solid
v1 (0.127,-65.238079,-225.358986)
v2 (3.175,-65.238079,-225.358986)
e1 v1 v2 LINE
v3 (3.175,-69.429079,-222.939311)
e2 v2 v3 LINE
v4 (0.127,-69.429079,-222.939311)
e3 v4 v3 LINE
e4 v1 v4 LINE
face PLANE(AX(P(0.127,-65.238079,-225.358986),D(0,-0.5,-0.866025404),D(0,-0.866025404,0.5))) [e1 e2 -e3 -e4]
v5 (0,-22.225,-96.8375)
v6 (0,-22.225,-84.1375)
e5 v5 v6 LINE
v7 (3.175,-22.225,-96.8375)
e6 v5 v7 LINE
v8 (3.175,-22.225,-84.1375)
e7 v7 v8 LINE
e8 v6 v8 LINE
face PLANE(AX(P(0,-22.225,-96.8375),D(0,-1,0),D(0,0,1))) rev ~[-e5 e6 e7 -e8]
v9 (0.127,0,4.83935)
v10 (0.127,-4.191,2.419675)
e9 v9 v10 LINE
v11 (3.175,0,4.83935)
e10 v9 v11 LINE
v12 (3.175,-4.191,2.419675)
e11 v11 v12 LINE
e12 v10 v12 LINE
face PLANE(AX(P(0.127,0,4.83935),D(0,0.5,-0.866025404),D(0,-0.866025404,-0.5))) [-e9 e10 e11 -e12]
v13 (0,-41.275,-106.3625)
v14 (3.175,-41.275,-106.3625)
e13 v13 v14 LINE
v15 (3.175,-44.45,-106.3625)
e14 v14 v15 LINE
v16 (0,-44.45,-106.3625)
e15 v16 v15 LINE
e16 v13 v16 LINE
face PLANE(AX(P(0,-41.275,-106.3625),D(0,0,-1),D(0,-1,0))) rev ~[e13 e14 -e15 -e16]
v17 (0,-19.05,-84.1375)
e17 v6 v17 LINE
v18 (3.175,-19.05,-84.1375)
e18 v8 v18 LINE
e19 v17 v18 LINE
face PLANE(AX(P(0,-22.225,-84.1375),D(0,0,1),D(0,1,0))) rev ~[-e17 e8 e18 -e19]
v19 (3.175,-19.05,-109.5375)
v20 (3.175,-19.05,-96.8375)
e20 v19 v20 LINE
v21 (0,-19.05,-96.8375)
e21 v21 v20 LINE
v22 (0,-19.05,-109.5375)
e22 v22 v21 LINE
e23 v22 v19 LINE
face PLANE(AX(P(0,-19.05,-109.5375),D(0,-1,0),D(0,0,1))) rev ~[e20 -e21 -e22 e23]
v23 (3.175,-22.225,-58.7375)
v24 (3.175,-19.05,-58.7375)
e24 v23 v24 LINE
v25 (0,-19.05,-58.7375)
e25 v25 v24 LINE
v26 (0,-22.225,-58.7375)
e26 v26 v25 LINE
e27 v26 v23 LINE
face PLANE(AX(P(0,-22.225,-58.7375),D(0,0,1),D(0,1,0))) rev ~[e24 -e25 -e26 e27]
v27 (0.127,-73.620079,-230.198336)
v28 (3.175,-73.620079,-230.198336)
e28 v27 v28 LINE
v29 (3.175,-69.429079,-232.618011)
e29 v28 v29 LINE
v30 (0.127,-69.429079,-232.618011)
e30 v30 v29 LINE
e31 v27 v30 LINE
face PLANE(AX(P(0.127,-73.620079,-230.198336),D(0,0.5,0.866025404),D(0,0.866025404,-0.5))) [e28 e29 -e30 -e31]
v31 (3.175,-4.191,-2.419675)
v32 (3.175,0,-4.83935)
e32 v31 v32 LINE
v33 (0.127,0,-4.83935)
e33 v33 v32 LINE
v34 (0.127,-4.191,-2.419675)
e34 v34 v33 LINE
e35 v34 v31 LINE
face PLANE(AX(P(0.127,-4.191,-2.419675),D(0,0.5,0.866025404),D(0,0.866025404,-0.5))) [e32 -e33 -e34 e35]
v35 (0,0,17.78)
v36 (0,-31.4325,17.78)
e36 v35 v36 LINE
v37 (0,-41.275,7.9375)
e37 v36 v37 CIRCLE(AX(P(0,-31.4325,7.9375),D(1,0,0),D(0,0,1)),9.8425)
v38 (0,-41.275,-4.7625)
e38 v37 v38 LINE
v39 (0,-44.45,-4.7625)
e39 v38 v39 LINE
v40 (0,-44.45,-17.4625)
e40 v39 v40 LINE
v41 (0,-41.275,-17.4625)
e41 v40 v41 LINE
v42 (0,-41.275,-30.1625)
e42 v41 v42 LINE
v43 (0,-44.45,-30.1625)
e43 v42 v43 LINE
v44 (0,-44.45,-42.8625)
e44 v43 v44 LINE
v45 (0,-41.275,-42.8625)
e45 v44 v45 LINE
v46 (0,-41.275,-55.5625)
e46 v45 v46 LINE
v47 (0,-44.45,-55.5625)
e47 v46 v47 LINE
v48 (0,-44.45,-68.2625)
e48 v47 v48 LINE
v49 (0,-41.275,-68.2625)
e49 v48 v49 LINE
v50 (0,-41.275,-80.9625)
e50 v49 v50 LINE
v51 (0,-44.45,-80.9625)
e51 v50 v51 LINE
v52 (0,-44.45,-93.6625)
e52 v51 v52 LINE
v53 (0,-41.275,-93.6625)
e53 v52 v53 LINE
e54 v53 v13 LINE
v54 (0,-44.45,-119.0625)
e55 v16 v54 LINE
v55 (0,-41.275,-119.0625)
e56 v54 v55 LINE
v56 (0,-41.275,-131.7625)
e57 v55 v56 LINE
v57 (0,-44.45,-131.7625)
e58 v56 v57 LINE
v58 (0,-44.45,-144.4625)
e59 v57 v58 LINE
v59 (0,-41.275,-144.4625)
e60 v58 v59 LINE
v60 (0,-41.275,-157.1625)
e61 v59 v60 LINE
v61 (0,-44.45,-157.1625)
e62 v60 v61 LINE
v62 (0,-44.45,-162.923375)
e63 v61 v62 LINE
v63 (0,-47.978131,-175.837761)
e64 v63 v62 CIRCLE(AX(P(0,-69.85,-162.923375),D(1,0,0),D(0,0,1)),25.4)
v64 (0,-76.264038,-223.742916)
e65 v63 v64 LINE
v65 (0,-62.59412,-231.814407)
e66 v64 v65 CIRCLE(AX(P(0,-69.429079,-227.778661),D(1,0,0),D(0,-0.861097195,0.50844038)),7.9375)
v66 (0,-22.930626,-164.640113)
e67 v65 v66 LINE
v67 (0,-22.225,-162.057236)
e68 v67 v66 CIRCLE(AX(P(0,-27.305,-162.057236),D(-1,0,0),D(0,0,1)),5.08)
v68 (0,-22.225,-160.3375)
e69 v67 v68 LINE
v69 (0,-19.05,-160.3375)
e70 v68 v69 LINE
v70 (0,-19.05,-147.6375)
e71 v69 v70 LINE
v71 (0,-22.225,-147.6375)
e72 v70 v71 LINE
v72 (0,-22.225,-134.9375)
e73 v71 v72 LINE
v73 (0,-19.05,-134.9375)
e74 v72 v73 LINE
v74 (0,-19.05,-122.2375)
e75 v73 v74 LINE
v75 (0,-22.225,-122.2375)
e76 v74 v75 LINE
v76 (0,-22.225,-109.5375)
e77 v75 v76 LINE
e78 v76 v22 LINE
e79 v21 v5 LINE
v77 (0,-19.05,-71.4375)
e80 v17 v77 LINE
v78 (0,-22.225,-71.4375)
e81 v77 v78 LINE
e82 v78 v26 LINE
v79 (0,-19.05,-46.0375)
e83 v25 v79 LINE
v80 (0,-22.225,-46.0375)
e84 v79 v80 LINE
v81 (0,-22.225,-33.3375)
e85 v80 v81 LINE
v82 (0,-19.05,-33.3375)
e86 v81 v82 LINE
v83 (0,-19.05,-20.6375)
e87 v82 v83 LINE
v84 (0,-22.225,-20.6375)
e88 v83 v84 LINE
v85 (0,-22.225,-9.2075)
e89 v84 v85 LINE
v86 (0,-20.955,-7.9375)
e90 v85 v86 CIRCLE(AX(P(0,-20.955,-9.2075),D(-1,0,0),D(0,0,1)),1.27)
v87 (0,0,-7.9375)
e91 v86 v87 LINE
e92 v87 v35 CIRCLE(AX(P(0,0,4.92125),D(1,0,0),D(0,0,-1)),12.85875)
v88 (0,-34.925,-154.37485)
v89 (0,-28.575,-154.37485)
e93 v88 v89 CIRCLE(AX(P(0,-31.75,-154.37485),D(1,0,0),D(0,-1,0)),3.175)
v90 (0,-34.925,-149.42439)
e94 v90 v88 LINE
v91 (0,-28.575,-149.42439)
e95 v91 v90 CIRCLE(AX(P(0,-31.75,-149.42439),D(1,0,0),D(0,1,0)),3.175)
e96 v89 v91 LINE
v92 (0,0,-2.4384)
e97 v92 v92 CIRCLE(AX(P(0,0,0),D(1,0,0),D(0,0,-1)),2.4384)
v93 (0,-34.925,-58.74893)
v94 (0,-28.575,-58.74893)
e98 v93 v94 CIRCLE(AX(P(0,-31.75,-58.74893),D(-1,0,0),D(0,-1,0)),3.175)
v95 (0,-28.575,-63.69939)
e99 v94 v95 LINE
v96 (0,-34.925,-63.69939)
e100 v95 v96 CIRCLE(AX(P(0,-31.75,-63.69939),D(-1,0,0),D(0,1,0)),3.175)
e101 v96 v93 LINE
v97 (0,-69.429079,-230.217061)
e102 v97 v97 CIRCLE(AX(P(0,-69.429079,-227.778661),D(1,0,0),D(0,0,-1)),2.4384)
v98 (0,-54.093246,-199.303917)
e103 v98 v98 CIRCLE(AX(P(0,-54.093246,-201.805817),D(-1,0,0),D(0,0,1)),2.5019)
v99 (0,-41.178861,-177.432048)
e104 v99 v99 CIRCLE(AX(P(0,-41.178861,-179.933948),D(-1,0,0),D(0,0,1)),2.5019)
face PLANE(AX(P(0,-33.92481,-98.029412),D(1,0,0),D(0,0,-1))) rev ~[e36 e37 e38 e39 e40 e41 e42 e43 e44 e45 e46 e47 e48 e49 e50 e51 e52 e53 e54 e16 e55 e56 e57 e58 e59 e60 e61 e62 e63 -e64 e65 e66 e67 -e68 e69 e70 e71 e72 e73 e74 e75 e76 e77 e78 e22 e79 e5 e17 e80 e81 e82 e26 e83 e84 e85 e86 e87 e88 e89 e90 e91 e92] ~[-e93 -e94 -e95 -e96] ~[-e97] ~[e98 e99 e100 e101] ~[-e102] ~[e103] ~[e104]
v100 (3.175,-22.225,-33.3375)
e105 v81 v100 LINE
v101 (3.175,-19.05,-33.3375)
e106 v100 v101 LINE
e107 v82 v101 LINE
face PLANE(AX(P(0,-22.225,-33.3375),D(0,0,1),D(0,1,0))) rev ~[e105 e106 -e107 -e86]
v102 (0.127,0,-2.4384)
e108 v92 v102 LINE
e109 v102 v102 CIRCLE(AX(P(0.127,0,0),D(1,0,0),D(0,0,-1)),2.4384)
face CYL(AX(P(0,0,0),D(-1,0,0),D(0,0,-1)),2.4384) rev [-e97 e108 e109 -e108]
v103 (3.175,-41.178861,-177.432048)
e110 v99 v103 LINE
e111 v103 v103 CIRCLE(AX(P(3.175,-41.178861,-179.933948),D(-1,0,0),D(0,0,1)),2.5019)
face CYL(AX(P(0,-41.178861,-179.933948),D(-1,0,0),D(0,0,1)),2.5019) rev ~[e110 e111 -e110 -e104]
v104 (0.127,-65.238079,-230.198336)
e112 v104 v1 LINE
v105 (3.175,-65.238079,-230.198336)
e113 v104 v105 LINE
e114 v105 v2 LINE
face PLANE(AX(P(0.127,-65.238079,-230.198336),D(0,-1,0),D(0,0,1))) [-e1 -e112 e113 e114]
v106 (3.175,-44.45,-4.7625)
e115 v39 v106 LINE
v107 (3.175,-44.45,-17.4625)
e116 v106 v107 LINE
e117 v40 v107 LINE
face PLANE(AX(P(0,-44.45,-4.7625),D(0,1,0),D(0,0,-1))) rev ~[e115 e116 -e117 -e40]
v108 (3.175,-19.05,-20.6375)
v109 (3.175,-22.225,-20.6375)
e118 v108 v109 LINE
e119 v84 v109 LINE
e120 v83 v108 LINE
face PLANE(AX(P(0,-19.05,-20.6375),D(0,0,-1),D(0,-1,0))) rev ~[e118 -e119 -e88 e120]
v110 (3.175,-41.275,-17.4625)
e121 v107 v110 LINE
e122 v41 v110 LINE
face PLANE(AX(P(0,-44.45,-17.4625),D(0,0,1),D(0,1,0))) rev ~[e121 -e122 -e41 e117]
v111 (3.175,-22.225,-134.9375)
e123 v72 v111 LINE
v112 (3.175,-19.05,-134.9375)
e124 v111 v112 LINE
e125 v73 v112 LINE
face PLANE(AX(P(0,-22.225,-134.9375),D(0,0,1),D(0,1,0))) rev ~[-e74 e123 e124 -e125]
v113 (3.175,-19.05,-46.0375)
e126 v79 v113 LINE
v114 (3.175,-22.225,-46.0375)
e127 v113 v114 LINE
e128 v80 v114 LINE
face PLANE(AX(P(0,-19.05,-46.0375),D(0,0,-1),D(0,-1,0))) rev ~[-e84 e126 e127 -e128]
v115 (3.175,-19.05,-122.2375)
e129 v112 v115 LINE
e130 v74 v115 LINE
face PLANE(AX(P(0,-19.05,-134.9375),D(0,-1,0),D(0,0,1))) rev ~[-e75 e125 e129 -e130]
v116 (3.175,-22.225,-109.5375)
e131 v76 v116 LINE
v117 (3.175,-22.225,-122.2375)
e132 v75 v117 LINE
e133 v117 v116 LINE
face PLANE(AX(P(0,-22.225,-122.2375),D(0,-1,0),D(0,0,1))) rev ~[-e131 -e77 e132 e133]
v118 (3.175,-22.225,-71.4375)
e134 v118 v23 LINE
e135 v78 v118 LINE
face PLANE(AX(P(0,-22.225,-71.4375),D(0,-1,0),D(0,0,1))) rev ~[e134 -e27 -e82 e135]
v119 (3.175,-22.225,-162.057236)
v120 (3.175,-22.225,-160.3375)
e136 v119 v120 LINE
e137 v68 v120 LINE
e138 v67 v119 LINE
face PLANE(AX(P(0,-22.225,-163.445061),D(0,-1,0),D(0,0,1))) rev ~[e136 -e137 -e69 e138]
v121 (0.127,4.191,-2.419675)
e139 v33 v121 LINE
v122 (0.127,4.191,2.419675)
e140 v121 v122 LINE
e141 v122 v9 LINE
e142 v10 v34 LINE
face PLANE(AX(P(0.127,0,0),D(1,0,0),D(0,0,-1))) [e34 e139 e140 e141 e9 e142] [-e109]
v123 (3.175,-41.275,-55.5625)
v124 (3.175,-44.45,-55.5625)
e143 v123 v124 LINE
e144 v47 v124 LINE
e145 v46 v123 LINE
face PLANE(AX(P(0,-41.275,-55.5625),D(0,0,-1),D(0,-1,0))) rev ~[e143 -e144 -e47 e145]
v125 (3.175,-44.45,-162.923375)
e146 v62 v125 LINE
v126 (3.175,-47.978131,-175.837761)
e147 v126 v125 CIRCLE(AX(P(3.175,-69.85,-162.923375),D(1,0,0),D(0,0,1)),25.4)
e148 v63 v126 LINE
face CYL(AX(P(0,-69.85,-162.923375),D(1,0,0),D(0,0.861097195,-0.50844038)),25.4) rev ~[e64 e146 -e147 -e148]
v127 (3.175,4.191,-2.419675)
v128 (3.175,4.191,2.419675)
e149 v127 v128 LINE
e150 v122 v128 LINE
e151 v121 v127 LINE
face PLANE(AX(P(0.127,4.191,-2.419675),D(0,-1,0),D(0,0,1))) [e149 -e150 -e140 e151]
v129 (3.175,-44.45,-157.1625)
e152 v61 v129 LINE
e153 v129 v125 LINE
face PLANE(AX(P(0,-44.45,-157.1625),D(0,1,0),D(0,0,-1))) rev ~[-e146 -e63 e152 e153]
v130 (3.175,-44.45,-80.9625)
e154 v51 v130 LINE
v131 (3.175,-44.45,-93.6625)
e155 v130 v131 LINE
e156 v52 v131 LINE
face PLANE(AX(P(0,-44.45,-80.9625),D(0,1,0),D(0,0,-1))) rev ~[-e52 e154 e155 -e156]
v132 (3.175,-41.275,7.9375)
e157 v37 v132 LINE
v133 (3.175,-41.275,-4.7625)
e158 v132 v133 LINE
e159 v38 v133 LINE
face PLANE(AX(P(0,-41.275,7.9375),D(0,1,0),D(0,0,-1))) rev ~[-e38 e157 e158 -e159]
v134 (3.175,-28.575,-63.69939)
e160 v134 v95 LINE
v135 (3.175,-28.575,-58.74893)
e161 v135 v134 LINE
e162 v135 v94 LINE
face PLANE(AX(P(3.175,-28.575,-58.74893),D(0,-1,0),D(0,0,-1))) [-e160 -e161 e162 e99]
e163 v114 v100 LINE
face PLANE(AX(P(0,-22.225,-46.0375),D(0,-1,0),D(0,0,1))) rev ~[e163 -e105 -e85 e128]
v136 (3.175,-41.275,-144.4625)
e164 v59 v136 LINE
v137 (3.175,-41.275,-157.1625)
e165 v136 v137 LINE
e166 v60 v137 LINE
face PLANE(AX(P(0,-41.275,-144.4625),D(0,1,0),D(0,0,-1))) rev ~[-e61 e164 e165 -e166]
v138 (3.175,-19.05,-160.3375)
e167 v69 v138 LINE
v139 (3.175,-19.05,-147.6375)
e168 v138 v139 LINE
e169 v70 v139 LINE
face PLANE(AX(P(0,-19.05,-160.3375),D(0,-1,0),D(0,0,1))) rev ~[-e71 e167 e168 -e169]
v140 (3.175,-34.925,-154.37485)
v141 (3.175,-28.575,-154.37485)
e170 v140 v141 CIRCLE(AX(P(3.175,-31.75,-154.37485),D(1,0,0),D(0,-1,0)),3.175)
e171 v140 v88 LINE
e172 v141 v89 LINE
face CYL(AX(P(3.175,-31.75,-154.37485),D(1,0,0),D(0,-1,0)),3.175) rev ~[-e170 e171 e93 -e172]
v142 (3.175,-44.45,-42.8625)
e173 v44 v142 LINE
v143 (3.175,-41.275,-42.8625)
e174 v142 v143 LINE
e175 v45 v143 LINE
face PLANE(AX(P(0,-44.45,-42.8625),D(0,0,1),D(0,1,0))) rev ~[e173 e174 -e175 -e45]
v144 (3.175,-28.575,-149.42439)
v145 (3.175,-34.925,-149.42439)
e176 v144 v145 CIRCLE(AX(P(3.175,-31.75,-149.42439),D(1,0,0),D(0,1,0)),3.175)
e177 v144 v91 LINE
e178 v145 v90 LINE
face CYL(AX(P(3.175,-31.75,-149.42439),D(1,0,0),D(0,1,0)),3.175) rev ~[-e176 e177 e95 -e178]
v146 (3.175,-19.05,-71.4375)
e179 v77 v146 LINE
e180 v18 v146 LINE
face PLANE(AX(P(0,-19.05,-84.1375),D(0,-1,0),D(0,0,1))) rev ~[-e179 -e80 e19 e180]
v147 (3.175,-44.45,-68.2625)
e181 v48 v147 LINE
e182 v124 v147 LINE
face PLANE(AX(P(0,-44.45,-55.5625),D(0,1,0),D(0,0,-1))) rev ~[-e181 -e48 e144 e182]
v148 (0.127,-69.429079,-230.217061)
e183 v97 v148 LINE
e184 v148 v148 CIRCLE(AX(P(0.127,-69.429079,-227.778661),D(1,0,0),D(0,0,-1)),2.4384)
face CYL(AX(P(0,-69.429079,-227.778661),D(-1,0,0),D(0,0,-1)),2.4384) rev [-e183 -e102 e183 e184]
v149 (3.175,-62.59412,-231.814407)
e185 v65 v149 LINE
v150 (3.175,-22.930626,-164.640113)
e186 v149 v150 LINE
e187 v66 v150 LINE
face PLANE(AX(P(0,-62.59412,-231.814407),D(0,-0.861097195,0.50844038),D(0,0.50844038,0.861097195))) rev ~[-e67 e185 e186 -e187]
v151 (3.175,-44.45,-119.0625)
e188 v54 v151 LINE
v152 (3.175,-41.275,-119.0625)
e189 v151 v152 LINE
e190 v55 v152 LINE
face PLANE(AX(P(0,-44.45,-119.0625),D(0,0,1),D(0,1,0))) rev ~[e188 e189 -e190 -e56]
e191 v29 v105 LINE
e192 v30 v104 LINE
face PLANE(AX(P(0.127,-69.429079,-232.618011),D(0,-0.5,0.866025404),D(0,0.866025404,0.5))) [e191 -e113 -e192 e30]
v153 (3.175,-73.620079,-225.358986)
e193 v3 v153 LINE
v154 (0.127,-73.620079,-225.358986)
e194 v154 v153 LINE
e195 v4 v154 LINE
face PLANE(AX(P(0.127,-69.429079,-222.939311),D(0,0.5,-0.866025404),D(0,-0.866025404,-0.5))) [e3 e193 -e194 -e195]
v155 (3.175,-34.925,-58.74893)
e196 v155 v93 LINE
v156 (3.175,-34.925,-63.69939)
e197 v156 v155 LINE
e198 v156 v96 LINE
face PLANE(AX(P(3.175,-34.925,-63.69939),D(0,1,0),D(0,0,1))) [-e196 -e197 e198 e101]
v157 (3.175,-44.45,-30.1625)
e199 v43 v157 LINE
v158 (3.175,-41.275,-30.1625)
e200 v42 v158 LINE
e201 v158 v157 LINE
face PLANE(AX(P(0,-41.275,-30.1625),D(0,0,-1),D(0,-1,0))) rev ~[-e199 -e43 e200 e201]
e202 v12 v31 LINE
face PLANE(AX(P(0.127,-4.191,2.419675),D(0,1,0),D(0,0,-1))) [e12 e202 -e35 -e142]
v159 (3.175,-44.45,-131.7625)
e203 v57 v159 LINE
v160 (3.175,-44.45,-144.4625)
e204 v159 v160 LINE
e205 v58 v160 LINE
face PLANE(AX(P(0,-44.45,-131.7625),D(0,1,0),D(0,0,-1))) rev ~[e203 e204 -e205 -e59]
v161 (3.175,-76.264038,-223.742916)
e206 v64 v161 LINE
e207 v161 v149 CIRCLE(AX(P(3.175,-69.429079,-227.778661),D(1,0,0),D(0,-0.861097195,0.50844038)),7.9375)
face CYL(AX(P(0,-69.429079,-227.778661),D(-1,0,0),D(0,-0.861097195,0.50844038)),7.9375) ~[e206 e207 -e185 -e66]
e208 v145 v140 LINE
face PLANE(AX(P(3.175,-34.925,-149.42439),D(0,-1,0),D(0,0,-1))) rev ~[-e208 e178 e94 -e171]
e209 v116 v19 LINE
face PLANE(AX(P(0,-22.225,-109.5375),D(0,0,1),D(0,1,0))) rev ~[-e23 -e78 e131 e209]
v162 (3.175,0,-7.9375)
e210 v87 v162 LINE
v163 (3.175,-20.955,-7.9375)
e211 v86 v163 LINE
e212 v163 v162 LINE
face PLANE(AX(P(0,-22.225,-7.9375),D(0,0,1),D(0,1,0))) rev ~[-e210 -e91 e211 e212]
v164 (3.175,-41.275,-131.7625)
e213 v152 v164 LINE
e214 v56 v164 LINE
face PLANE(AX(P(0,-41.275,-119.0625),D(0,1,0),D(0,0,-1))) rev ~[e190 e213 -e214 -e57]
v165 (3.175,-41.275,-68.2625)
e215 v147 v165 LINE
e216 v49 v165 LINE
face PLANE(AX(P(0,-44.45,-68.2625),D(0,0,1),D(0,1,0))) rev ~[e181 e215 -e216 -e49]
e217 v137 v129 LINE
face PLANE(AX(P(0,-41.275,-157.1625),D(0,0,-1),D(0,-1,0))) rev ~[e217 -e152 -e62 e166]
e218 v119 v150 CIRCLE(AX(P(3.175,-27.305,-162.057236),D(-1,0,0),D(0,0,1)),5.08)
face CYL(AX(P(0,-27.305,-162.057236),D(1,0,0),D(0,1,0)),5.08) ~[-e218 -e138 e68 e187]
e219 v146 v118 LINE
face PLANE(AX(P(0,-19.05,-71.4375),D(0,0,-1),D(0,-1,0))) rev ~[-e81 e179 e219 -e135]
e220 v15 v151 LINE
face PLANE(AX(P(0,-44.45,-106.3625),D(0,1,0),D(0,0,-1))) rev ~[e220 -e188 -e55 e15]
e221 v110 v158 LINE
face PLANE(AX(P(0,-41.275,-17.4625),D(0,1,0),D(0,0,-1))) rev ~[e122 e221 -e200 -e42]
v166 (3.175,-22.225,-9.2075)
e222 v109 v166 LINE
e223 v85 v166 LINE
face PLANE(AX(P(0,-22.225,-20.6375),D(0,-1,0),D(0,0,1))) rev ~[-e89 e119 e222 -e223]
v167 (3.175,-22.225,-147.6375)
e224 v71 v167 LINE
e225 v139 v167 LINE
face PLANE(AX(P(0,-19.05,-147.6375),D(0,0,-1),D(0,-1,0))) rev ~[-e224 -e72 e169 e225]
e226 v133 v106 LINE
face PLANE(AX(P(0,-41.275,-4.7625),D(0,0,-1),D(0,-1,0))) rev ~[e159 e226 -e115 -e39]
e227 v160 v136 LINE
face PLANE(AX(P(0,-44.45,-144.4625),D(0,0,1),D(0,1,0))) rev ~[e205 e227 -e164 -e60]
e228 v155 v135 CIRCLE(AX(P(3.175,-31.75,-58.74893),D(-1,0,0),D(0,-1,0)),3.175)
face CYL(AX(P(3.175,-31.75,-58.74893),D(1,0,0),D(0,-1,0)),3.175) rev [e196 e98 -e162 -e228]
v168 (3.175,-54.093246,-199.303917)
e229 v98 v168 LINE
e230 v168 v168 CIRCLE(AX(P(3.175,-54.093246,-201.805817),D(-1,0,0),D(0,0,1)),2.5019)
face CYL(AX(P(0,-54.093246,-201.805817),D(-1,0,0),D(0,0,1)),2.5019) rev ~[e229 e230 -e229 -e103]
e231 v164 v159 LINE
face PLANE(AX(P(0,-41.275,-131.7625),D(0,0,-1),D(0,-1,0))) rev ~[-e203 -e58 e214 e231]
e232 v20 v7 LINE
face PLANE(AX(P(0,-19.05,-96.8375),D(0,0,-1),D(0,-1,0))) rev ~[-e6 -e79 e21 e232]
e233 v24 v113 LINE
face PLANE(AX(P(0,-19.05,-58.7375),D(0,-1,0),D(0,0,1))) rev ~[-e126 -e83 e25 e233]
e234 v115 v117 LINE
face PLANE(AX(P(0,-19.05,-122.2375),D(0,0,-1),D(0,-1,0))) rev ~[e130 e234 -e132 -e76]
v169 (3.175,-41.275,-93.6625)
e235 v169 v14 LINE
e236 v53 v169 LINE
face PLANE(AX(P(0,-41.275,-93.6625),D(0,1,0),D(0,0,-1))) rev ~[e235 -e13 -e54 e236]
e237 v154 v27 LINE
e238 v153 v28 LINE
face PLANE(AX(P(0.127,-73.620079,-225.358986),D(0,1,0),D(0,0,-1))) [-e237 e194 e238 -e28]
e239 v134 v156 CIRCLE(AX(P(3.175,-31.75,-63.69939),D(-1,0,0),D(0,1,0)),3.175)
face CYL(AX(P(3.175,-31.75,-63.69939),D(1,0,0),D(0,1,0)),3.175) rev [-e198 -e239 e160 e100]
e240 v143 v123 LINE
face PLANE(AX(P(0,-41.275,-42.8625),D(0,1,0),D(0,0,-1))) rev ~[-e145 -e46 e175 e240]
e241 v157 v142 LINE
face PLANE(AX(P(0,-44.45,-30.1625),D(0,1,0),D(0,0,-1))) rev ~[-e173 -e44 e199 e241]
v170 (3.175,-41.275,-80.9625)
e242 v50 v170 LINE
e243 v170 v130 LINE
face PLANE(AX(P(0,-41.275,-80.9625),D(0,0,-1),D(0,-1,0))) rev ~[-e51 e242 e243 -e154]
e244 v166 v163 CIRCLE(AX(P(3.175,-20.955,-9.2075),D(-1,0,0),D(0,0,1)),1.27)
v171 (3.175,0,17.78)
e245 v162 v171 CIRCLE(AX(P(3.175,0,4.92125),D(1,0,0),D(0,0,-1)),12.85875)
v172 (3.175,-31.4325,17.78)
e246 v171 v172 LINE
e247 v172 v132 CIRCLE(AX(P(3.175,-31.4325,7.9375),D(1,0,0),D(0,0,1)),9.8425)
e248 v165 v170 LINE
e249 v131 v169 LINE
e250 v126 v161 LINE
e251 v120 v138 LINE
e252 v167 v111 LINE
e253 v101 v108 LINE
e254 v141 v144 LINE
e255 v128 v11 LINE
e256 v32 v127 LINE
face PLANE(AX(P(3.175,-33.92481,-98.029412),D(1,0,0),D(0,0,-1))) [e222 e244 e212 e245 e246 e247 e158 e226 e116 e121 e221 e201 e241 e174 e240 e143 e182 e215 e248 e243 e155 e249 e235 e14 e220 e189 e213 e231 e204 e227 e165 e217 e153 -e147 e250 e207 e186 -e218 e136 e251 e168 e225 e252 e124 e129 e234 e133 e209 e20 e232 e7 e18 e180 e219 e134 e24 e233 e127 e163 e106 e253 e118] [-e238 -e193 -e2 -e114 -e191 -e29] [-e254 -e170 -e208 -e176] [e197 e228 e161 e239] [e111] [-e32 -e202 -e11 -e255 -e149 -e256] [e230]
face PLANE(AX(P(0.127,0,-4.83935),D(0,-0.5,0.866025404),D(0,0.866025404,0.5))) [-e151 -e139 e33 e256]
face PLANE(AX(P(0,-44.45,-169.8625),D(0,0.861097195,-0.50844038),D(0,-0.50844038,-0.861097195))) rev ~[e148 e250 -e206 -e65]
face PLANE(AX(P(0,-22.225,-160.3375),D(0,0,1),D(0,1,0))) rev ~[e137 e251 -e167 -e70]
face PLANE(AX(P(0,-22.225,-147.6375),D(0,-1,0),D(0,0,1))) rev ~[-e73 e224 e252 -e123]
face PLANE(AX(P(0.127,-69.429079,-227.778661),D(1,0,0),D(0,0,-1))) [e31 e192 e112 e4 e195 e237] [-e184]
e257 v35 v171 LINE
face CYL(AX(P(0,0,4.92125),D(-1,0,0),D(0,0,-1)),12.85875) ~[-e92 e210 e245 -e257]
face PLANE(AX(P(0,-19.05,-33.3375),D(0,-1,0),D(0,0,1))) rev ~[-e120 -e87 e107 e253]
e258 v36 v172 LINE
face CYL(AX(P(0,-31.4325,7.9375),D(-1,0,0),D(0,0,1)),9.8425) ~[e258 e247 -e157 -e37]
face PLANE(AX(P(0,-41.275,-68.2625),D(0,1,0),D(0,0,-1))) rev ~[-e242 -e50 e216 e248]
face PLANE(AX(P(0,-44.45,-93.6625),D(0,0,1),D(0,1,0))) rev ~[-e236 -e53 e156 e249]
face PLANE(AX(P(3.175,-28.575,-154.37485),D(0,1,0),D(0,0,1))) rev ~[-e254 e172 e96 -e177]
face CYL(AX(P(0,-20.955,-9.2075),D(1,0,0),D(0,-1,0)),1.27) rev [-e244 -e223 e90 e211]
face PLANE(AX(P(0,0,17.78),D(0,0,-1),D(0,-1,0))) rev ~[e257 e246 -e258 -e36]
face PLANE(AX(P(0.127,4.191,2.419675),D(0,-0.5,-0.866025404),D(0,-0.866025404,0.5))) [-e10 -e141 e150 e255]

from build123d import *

# Parameters (mm, degrees)
SKETCH1_R           = 2.4384
BOSS_EXTRUDE1_DEPTH = 3.175
CUT_EXTRUDE1_START  = -3.048
SKETCH2_R           = 2.4384
CUT_EXTRUDE1_DEPTH  = 3.048
CUT_EXTRUDE2_START  = -3.048
SKETCH3_R           = 2.4384
CUT_EXTRUDE2_DEPTH  = 3.048
SKETCH7_R           = 2.5019
CUT_EXTRUDE6_DEPTH  = 249.108397571
CUT_EXTRUDE7_DEPTH  = 3.175
FILLET1_R           = 25.4
FILLET2_R           = 1.27
FILLET5_R           = 5.08


with BuildPart() as part:
    # Sketch1 → Boss-Extrude1 (new body)
    with BuildSketch(Plane(origin=(0, 0, 0), x_dir=(0, 0, -1), z_dir=(1, 0, 0))):
        with BuildLine():
            ThreePointArc((223.742915845, -76.264038282), (234.613620352, -73.464824815), (231.814406885, -62.594120308))
            Line((231.814406885, -62.594120308), (163.445060929, -22.225))
            Line((163.445060929, -22.225), (160.3375, -22.225))
            Line((160.3375, -22.225), (160.3375, -19.05))
            Line((160.3375, -19.05), (147.6375, -19.05))
            Line((147.6375, -19.05), (147.6375, -22.225))
            Line((147.6375, -22.225), (134.9375, -22.225))
            Line((134.9375, -22.225), (134.9375, -19.05))
            Line((134.9375, -19.05), (122.2375, -19.05))
            Line((122.2375, -19.05), (122.2375, -22.225))
            Line((122.2375, -22.225), (109.5375, -22.225))
            Line((109.5375, -22.225), (109.5375, -19.05))
            Line((109.5375, -19.05), (96.8375, -19.05))
            Line((96.8375, -19.05), (96.8375, -22.225))
            Line((96.8375, -22.225), (84.1375, -22.225))
            Line((84.1375, -22.225), (84.1375, -19.05))
            Line((84.1375, -19.05), (71.4375, -19.05))
            Line((71.4375, -19.05), (71.4375, -22.225))
            Line((71.4375, -22.225), (58.7375, -22.225))
            Line((58.7375, -22.225), (58.7375, -19.05))
            Line((58.7375, -19.05), (46.0375, -19.05))
            Line((46.0375, -19.05), (46.0375, -22.225))
            Line((46.0375, -22.225), (33.3375, -22.225))
            Line((33.3375, -22.225), (33.3375, -19.05))
            Line((33.3375, -19.05), (20.6375, -19.05))
            Line((20.6375, -19.05), (20.6375, -22.225))
            Line((20.6375, -22.225), (7.9375, -22.225))
            Line((7.9375, -22.225), (7.9375, 0))
            ThreePointArc((7.9375, 0), (-4.92125, 12.85875), (-17.78, 0))
            Line((-17.78, 0), (-17.78, -31.4325))
            ThreePointArc((-17.78, -31.4325), (-14.897198494, -38.392198494), (-7.9375, -41.275))
            Line((-7.9375, -41.275), (4.7625, -41.275))
            Line((4.7625, -41.275), (4.7625, -44.45))
            Line((4.7625, -44.45), (17.4625, -44.45))
            Line((17.4625, -44.45), (17.4625, -41.275))
            Line((17.4625, -41.275), (30.1625, -41.275))
            Line((30.1625, -41.275), (30.1625, -44.45))
            Line((30.1625, -44.45), (42.8625, -44.45))
            Line((42.8625, -44.45), (42.8625, -41.275))
            Line((42.8625, -41.275), (55.5625, -41.275))
            Line((55.5625, -41.275), (55.5625, -44.45))
            Line((55.5625, -44.45), (68.2625, -44.45))
            Line((68.2625, -44.45), (68.2625, -41.275))
            Line((68.2625, -41.275), (80.9625, -41.275))
            Line((80.9625, -41.275), (80.9625, -44.45))
            Line((80.9625, -44.45), (93.6625, -44.45))
            Line((93.6625, -44.45), (93.6625, -41.275))
            Line((93.6625, -41.275), (106.3625, -41.275))
            Line((106.3625, -41.275), (106.3625, -44.45))
            Line((106.3625, -44.45), (119.0625, -44.45))
            Line((119.0625, -44.45), (119.0625, -41.275))
            Line((119.0625, -41.275), (131.7625, -41.275))
            Line((131.7625, -41.275), (131.7625, -44.45))
            Line((131.7625, -44.45), (144.4625, -44.45))
            Line((144.4625, -44.45), (144.4625, -41.275))
            Line((144.4625, -41.275), (157.1625, -41.275))
            Line((157.1625, -41.275), (157.1625, -44.45))
            Line((157.1625, -44.45), (169.8625, -44.45))
            Line((169.8625, -44.45), (223.742915845, -76.264038282))
        make_face()
        with Locations((227.778661365, -69.429079295)):
            Circle(SKETCH1_R, mode=Mode.SUBTRACT)
        Circle(SKETCH1_R, mode=Mode.SUBTRACT)
    extrude(amount=BOSS_EXTRUDE1_DEPTH)

    # Sketch2 → Cut-Extrude1 (cut)
    with BuildSketch(Plane(origin=(3.175, 0, 0), x_dir=(0, 0, -1), z_dir=(1, 0, 0)).offset(CUT_EXTRUDE1_START)):
        Polygon((2.419674978, 4.191), (-2.419674978, 4.191), (-4.839349956, 0), (-2.419674978, -4.191), (2.419674978, -4.191), (4.839349956, 0), align=None)
        Circle(SKETCH2_R, mode=Mode.SUBTRACT)
    extrude(amount=CUT_EXTRUDE1_DEPTH, mode=Mode.SUBTRACT)

    # Sketch3 → Cut-Extrude2 (cut)
    with BuildSketch(Plane(origin=(3.175, 0, 0), x_dir=(0, 0, -1), z_dir=(1, 0, 0)).offset(CUT_EXTRUDE2_START)):
        Polygon((230.198336343, -65.238079295), (225.358986387, -65.238079295), (222.939311409, -69.429079295), (225.358986387, -73.620079295), (230.198336343, -73.620079295), (232.618011321, -69.429079295), align=None)
        with Locations((227.778661365, -69.429079295)):
            Circle(SKETCH3_R, mode=Mode.SUBTRACT)
    extrude(amount=CUT_EXTRUDE2_DEPTH, mode=Mode.SUBTRACT)

    # Sketch7 → Cut-Extrude6 (cut, through all)
    with BuildSketch(Plane.ZY):
        with Locations((-201.805817216, -54.09324632)):
            Circle(SKETCH7_R)
        with Locations((-179.933948459, -41.178860656)):
            Circle(SKETCH7_R)
    extrude(amount=-CUT_EXTRUDE6_DEPTH, mode=Mode.SUBTRACT)

    # Sketch9 → Cut-Extrude7 (cut)
    with BuildSketch(Plane(origin=(3.175, 0, 0), x_dir=(0, 0, -1), z_dir=(1, 0, 0))):
        with BuildLine():
            Line((58.74893, -28.575), (63.69939, -28.575))
            ThreePointArc((63.69939, -28.575), (66.87439, -31.75), (63.69939, -34.925))
            Line((63.69939, -34.925), (58.74893, -34.925))
            ThreePointArc((58.74893, -34.925), (55.57393, -31.75), (58.74893, -28.575))
        make_face()
        with BuildLine():
            Line((154.37485, -28.575), (149.42439, -28.575))
            ThreePointArc((149.42439, -28.575), (146.24939, -31.75), (149.42439, -34.925))
            Line((149.42439, -34.925), (154.37485, -34.925))
            ThreePointArc((154.37485, -34.925), (157.54985, -31.75), (154.37485, -28.575))
        make_face()
    extrude(amount=-CUT_EXTRUDE7_DEPTH, mode=Mode.SUBTRACT)

    # Fillet1
    fillet1_edges = [part.edges().sort_by_distance(p)[0] for p in [
        (1.5875, -44.45, -169.8625),
    ]]
    fillet(fillet1_edges, radius=FILLET1_R)

    # Fillet2
    fillet2_edges = [part.edges().sort_by_distance(p)[0] for p in [
        (1.5875, -22.225, -7.9375),
    ]]
    fillet(fillet2_edges, radius=FILLET2_R)

    # Fillet5
    fillet5_edges = [part.edges().sort_by_distance(p)[0] for p in [
        (1.5875, -22.225, -163.445060929),
    ]]
    fillet(fillet5_edges, radius=FILLET5_R)


solid = part.part
